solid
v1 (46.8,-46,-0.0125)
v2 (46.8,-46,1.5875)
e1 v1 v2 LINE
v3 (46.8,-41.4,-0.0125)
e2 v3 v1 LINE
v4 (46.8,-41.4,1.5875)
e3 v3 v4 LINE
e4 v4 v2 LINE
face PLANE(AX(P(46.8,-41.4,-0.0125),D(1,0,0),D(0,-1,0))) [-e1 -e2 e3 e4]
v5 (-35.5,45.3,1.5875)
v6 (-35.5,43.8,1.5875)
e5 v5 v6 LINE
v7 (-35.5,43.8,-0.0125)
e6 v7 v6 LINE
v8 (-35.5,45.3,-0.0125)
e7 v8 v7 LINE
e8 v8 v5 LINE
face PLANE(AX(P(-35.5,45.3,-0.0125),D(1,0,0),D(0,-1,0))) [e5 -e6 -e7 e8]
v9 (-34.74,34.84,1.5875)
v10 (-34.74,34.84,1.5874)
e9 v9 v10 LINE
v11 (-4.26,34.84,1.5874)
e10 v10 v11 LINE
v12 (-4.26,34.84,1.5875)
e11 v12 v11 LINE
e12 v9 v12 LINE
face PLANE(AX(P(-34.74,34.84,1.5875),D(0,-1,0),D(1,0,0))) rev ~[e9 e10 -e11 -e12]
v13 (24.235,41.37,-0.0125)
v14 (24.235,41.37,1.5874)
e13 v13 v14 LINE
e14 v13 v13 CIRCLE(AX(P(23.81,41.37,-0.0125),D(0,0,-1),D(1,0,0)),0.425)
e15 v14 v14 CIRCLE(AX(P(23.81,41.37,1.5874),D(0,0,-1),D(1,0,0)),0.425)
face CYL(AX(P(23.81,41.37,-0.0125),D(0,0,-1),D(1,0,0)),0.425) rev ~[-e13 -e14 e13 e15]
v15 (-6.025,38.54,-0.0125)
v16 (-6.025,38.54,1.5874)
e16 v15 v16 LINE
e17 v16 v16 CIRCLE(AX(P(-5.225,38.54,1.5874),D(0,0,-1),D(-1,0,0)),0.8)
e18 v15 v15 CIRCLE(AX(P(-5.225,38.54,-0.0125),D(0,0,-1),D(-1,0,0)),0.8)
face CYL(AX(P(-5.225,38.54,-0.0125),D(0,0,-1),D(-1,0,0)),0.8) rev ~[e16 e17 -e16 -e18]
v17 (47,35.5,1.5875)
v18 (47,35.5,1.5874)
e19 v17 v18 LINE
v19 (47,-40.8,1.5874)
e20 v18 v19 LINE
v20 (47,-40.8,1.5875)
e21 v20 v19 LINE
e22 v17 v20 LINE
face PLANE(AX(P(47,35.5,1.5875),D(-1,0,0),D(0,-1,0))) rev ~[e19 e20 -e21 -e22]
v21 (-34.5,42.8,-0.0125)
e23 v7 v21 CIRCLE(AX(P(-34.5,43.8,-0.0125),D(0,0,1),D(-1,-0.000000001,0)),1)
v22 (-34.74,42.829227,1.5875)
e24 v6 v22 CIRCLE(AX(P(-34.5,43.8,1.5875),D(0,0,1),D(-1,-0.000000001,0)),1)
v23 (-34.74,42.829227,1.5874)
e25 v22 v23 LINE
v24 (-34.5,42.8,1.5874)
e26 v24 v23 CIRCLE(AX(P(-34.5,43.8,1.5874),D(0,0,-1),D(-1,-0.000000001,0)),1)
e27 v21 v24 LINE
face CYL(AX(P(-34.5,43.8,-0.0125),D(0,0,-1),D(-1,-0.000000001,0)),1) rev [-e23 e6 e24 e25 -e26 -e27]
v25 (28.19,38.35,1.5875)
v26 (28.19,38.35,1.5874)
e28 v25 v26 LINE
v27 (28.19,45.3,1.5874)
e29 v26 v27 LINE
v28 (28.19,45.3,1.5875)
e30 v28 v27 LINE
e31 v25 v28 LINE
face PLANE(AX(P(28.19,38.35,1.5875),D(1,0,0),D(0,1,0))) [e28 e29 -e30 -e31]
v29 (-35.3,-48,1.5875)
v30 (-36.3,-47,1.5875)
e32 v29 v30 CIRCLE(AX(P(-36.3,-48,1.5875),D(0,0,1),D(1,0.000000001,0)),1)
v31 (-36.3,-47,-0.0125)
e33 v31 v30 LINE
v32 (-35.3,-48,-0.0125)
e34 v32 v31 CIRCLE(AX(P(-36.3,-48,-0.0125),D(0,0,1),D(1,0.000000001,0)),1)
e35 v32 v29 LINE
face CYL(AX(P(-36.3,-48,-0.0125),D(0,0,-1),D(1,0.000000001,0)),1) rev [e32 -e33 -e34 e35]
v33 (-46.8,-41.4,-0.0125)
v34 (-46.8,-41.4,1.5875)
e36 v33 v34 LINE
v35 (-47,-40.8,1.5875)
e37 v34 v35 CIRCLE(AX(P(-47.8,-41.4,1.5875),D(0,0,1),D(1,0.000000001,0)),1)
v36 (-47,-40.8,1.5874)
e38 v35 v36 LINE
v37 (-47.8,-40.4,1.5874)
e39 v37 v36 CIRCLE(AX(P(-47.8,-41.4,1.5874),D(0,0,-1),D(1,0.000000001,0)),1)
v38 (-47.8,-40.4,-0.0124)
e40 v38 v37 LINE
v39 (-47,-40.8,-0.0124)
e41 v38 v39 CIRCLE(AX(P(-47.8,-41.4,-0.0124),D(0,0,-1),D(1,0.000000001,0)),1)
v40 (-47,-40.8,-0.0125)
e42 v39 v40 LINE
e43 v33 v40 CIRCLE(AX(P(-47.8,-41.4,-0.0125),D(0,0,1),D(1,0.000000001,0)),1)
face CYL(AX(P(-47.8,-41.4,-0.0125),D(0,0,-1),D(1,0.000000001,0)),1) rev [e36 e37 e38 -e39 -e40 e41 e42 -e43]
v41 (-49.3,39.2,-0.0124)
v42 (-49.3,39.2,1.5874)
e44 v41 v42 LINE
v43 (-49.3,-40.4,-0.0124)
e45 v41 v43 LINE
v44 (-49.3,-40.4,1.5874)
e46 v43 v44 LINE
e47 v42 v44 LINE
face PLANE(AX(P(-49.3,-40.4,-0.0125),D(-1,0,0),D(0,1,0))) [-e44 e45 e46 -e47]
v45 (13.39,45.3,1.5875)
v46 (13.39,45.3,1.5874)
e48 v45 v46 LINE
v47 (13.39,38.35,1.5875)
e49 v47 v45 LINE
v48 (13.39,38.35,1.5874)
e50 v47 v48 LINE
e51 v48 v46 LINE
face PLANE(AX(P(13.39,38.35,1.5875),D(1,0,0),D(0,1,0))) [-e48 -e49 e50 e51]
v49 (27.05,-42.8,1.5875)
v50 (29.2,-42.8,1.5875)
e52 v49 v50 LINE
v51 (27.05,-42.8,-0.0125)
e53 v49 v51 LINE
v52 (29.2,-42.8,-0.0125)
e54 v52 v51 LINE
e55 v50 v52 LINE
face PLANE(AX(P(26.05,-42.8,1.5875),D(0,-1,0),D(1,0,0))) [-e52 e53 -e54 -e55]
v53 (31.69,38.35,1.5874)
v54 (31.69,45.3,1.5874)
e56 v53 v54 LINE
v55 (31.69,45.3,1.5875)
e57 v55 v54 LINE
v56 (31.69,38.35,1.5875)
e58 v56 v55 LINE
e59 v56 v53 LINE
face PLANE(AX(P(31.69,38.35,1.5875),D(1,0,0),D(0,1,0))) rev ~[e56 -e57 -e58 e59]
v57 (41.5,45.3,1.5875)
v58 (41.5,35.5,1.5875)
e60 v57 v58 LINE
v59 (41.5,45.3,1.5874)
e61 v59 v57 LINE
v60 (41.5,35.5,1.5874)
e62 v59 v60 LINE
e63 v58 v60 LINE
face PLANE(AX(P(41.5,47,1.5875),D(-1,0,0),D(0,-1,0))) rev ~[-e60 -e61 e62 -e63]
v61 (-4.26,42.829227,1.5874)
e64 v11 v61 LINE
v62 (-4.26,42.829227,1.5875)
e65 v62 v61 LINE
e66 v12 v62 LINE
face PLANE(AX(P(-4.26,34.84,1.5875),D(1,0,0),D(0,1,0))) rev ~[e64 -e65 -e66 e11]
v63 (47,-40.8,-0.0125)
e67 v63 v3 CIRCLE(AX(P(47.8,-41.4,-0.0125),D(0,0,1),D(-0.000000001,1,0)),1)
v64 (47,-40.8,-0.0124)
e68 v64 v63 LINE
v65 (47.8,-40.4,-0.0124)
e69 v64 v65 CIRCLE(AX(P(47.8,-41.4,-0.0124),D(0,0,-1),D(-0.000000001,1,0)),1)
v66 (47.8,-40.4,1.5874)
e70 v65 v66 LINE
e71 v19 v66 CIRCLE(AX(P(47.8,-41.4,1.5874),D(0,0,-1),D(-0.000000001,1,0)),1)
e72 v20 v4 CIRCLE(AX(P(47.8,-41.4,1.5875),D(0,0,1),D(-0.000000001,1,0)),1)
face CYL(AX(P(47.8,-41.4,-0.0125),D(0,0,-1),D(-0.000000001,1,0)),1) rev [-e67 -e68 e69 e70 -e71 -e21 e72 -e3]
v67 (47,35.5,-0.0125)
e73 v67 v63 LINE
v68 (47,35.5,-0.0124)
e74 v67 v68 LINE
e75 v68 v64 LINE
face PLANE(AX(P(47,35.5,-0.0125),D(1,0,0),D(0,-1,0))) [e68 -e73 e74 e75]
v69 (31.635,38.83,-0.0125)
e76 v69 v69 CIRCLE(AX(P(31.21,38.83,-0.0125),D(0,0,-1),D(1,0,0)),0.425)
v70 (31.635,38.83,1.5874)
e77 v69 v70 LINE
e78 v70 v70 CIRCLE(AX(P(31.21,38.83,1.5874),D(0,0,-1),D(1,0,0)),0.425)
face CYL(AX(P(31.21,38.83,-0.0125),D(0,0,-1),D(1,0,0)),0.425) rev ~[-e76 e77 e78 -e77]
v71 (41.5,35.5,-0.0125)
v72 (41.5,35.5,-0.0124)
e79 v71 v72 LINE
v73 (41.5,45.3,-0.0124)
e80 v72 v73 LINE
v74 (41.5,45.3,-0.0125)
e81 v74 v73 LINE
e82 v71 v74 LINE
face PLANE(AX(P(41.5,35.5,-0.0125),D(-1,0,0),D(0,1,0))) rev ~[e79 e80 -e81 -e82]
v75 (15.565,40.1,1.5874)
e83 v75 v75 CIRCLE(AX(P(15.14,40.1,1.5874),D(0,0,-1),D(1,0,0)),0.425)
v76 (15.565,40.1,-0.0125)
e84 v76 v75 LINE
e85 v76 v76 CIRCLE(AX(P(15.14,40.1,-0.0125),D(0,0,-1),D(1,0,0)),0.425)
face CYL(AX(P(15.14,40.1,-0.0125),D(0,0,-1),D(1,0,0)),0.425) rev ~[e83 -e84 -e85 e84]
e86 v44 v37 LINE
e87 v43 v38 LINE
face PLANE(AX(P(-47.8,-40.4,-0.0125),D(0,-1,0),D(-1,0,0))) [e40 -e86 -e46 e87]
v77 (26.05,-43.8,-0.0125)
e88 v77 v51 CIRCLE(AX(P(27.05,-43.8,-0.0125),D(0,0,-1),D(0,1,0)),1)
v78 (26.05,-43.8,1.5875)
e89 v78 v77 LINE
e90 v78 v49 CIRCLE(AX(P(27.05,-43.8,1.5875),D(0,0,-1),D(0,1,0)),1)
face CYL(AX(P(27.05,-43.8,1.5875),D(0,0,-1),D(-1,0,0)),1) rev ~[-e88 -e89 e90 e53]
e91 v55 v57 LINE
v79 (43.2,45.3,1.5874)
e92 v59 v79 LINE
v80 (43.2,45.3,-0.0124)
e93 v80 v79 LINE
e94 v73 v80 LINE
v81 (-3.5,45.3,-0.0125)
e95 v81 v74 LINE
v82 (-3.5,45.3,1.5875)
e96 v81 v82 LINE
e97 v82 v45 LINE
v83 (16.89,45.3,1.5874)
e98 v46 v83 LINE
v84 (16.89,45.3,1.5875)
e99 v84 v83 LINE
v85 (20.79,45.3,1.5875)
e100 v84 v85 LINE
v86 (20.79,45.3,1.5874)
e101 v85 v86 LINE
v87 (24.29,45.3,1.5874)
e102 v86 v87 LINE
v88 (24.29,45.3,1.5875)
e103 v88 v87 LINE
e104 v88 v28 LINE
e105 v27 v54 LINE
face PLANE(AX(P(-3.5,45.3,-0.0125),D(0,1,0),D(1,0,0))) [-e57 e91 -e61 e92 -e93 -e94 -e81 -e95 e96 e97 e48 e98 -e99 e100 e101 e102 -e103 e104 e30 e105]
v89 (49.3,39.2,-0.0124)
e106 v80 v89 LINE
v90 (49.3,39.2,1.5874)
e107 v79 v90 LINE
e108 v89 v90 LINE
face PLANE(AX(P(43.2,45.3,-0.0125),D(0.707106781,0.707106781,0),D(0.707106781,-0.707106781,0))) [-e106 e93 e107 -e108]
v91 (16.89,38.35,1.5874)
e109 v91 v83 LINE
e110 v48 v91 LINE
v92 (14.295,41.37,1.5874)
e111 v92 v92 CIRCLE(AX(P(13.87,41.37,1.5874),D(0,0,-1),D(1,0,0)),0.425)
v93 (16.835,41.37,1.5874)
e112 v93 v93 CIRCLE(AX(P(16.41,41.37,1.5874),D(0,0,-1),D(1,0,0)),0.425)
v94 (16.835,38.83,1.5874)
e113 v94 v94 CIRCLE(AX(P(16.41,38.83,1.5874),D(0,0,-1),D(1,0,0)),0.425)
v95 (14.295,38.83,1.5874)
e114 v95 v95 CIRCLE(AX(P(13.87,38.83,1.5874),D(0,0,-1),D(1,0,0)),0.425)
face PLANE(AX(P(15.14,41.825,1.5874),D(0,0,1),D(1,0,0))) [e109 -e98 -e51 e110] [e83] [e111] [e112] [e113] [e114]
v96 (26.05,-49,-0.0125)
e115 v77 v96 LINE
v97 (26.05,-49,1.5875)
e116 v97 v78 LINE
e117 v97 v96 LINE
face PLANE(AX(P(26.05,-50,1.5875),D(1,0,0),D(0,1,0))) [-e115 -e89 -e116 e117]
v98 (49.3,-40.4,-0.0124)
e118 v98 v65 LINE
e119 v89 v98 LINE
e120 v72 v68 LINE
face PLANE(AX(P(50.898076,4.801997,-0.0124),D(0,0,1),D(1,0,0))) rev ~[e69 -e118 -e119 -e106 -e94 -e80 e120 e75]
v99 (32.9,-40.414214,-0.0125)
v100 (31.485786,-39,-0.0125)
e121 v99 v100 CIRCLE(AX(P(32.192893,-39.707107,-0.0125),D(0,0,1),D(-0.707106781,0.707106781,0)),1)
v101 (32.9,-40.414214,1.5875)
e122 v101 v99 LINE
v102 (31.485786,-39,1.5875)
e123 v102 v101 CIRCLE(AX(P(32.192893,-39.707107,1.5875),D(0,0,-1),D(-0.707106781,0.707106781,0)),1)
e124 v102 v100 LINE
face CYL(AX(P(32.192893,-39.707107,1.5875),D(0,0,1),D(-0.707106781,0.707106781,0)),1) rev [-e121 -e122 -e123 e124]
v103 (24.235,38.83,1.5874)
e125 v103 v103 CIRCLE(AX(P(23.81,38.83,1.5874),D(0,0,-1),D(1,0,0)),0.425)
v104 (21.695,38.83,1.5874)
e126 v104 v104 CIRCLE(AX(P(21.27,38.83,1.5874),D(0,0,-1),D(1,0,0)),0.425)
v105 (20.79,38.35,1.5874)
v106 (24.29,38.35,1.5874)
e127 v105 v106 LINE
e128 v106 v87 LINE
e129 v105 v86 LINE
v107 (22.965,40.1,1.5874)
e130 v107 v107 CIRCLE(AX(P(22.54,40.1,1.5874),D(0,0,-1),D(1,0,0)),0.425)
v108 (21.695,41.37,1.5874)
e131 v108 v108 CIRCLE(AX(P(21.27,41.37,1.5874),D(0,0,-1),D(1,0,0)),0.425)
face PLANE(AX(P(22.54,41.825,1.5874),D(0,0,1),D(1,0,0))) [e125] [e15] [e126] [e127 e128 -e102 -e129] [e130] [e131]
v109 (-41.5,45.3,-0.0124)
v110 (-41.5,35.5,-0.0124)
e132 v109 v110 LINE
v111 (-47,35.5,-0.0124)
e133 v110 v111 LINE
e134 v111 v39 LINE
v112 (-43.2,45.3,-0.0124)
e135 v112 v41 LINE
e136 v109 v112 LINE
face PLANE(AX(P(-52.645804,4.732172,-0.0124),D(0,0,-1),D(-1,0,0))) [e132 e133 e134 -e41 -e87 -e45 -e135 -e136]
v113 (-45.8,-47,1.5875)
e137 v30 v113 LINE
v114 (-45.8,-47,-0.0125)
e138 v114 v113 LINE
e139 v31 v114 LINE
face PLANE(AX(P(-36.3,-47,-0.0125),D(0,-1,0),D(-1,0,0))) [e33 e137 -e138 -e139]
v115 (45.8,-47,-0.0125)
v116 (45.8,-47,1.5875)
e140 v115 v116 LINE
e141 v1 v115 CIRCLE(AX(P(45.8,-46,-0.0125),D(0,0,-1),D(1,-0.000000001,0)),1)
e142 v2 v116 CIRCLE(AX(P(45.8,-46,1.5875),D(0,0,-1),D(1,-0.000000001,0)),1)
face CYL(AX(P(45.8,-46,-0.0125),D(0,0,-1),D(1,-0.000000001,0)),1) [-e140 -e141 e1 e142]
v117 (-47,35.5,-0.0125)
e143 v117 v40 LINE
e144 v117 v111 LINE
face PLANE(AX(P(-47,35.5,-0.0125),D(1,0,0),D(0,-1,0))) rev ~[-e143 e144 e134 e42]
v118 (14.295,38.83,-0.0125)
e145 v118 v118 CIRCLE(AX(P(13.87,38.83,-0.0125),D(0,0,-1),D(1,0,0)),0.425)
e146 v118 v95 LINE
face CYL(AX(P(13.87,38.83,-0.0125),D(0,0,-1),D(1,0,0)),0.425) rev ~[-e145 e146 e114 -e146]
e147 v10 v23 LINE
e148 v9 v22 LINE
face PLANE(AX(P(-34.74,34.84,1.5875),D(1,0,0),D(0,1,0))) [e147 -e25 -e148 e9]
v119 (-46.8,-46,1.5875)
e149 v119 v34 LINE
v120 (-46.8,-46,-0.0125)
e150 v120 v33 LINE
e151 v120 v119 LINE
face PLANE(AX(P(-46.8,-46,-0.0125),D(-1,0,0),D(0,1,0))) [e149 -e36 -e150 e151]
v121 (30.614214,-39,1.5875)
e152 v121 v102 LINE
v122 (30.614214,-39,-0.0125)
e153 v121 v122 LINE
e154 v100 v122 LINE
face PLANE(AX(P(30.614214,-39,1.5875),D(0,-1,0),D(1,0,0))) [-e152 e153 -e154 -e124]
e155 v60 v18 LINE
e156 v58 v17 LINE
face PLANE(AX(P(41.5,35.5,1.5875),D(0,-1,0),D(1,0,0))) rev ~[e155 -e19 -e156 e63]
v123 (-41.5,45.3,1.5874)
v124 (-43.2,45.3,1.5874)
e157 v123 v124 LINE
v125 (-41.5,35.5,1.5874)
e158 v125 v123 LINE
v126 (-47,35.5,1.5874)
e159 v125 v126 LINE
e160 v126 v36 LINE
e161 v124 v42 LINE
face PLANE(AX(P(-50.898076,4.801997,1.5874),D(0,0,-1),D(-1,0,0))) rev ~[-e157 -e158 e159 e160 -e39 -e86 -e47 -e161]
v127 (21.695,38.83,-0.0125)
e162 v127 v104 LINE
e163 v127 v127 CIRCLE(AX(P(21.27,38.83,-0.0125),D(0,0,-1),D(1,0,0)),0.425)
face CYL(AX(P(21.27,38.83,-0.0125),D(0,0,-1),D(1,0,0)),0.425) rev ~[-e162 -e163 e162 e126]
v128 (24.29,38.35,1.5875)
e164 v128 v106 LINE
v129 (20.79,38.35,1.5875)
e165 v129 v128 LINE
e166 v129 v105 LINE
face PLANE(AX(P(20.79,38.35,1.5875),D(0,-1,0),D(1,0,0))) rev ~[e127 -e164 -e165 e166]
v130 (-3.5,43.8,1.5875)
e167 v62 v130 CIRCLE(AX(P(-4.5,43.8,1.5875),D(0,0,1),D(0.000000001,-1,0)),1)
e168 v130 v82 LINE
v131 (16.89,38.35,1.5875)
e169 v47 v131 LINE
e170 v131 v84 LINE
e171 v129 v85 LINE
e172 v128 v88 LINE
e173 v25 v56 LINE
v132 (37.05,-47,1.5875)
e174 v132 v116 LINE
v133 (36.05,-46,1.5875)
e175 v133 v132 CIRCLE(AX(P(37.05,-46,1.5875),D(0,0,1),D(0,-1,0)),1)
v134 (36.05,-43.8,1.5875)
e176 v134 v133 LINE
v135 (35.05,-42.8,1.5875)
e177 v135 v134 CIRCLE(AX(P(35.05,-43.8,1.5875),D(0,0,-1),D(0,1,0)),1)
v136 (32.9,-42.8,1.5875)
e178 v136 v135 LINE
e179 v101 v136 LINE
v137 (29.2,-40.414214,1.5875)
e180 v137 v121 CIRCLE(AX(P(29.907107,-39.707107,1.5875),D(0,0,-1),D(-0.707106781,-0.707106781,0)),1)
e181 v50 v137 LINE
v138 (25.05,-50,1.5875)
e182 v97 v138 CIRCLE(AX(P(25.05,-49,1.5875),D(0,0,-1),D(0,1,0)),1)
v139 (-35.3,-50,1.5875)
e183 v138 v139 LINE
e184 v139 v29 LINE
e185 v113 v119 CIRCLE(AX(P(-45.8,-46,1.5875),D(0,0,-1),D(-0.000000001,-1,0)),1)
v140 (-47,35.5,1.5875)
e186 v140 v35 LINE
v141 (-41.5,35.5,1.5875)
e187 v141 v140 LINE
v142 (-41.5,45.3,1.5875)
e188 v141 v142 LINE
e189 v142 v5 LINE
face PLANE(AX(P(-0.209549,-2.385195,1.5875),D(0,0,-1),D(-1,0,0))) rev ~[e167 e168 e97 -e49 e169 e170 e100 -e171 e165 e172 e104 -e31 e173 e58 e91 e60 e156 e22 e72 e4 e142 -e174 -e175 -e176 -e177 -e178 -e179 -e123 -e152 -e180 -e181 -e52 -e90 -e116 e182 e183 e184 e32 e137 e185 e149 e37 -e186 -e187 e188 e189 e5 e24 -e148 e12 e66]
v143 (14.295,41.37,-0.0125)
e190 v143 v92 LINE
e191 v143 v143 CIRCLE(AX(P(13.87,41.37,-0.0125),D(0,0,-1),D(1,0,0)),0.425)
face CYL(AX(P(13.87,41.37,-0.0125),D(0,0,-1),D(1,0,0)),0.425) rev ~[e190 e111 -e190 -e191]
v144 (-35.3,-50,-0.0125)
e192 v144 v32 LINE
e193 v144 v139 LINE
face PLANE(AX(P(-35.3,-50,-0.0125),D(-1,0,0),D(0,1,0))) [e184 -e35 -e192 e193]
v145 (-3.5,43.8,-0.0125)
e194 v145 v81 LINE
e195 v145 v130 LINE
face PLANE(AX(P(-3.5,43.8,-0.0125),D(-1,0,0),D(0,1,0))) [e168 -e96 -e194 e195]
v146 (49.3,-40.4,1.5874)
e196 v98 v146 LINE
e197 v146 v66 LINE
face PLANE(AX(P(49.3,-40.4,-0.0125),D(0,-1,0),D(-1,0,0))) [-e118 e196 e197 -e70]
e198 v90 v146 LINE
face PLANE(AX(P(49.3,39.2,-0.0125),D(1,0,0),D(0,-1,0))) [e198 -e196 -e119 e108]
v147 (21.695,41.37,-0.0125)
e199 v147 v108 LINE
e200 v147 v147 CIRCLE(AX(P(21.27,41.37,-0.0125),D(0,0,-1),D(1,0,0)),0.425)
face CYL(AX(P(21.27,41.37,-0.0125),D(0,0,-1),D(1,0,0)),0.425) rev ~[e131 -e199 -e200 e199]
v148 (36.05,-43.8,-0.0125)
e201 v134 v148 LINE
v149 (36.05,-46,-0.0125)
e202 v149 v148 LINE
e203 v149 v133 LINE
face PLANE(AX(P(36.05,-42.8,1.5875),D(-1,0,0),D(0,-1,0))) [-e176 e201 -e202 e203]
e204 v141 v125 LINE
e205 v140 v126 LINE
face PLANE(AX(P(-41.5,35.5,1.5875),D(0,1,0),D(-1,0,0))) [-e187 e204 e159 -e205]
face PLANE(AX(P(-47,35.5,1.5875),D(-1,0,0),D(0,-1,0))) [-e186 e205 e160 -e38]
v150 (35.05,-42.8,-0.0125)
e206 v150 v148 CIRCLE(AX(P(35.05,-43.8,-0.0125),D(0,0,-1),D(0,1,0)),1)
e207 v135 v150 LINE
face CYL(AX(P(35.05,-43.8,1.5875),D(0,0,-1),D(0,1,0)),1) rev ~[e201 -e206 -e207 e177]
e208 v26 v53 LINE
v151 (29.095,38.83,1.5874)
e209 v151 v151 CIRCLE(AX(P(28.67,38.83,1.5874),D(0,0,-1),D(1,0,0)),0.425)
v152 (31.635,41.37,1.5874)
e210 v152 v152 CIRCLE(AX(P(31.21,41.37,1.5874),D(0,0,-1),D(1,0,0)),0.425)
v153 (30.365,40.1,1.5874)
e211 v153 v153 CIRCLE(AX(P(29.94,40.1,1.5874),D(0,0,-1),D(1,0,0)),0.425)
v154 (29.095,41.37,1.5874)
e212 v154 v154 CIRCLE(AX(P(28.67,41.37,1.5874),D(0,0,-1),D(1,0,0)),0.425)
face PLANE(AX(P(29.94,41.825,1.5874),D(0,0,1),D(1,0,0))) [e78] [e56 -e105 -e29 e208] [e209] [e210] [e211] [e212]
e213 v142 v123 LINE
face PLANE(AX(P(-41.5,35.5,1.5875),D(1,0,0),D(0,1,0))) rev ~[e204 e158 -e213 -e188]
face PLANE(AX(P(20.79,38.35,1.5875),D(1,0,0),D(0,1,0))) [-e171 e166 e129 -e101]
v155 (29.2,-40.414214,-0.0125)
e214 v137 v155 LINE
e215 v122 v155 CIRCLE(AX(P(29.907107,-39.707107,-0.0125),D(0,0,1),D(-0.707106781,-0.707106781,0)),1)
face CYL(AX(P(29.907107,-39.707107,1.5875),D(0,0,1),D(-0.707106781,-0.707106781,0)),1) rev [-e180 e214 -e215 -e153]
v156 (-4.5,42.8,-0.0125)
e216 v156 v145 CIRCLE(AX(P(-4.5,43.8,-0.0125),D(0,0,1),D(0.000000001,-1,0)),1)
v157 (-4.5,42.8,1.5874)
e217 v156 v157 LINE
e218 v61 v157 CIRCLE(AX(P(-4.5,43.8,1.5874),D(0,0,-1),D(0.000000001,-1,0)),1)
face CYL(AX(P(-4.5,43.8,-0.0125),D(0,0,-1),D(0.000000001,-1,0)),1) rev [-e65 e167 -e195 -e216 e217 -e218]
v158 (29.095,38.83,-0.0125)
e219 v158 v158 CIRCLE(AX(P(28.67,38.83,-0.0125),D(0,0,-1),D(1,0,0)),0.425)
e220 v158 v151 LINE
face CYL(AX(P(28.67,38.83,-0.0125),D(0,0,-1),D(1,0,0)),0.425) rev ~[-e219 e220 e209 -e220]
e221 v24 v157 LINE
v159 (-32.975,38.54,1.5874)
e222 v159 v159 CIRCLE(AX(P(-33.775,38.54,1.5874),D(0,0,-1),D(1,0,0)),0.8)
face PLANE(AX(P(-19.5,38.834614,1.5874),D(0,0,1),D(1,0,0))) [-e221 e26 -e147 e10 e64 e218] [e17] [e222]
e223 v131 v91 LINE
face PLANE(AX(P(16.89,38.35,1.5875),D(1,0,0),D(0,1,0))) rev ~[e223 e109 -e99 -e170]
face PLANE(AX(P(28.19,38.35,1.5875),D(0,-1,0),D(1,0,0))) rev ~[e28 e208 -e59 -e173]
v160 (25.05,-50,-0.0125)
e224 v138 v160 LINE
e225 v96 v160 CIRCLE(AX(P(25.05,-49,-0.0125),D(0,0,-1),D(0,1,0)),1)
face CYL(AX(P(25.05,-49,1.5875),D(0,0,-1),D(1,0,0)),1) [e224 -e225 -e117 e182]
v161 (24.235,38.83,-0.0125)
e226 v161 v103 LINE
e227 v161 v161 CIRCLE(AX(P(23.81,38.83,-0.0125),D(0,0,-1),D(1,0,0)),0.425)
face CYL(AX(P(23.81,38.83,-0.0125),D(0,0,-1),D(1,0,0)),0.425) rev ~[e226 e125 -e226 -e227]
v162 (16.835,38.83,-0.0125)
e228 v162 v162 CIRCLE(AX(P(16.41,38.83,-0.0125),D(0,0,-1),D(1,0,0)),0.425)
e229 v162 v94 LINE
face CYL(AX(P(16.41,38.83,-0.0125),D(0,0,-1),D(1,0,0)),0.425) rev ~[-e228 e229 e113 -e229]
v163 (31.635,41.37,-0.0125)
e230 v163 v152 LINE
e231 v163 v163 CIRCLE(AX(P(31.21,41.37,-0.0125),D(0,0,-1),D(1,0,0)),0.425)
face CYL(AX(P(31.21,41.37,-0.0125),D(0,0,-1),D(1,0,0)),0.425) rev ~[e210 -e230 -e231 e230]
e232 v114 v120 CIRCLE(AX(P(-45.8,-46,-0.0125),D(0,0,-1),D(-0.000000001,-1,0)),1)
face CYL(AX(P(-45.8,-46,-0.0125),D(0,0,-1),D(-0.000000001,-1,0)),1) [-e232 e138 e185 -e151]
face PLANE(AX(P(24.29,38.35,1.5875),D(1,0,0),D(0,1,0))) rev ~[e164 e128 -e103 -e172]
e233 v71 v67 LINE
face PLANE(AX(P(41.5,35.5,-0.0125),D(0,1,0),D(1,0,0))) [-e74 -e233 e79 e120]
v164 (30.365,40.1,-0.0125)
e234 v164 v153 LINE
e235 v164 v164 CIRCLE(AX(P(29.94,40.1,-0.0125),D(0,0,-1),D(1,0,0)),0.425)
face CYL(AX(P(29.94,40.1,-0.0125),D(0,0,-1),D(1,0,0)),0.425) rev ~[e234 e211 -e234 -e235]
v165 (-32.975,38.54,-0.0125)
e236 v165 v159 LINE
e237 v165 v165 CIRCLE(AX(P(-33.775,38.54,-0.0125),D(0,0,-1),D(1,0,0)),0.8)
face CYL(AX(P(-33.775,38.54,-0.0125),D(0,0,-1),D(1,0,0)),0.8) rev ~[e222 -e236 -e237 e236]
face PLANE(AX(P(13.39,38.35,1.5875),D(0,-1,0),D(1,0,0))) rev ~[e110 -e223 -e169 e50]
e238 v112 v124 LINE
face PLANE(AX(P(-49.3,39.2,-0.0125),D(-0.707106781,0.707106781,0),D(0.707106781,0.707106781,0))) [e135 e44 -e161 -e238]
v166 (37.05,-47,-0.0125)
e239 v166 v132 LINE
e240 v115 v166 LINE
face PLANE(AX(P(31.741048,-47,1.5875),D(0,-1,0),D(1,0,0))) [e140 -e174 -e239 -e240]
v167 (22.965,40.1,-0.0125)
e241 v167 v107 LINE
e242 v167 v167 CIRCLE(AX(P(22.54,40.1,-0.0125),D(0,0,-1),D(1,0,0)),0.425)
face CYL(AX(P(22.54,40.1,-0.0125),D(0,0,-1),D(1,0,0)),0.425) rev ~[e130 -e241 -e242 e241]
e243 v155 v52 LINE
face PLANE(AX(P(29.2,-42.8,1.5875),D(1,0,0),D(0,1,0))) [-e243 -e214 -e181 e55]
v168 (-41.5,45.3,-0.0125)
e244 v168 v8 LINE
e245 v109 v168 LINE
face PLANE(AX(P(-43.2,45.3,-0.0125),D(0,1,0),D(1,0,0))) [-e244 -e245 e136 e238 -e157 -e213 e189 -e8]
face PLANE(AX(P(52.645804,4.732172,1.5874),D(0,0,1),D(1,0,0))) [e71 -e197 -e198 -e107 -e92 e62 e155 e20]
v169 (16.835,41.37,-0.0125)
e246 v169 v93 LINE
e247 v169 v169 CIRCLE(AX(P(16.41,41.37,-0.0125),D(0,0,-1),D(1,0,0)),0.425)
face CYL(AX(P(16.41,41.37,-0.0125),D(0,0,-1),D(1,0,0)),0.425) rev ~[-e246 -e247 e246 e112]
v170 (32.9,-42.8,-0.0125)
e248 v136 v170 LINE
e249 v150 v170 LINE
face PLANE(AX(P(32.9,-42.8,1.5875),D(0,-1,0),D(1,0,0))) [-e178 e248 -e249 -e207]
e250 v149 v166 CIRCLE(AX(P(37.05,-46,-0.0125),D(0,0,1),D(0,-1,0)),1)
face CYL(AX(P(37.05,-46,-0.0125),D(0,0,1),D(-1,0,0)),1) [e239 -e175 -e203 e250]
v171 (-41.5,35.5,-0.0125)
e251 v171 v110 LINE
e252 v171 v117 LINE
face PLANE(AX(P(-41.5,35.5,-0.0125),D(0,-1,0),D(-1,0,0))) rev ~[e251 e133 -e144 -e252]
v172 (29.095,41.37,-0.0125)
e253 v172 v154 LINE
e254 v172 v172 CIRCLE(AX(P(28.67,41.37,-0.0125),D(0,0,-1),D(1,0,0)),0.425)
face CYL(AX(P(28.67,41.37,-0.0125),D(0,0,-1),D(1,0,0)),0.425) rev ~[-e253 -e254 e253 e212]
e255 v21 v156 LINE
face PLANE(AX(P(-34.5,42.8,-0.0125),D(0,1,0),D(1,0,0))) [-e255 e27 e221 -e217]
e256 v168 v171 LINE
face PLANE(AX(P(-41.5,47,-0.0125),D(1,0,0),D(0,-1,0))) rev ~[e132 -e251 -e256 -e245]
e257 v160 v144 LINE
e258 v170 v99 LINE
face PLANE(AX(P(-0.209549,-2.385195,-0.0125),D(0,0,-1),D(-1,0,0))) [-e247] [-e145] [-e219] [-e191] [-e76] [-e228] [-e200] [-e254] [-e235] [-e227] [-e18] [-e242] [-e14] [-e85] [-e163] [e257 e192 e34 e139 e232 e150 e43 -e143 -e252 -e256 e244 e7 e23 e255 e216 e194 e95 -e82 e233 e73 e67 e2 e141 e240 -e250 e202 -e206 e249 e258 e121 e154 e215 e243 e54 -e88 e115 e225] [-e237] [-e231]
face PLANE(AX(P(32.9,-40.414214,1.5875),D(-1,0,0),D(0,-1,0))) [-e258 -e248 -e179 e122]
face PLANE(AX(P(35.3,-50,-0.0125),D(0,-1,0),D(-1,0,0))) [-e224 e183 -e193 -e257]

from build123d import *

# Parameters (mm, degrees)
SKETCH1_R           = 0.425
SKETCH1_R_2         = 0.8
BOSS_EXTRUDE1_DEPTH = 1.6
CUT_EXTRUDE1_DEPTH  = 0.0001
CUT_EXTRUDE2_DEPTH  = 0.0001
PARTFOOTPRINTS_W    = 30.48
PARTFOOTPRINTS_H    = 7.989227112
PARTFOOTPRINTS_W_2  = 3.5
PARTFOOTPRINTS_H_2  = 6.95
CUT_EXTRUDE3_DEPTH  = 0.0001
CUT_EXTRUDE4_DEPTH  = 71.235674696
SKETCH3_W           = 7.779754111
SKETCH3_H           = 5.155241991
CUT_EXTRUDE5_DEPTH  = 10
FILLET1_R           = 1


with BuildPart() as part:
    # Sketch1 → Boss-Extrude1 (new body)
    with BuildSketch(Plane(origin=(0, 0, -0.0125), x_dir=(-1, 0, 0), z_dir=(0, 0, -1))):
        with BuildLine():
            Line((35.3, -50), (35.3, -48))
            ThreePointArc((35.3, -48), (35.592893219, -47.292893219), (36.3, -47))
            Line((36.3, -47), (45.8, -47))
            ThreePointArc((45.8, -47), (46.507106781, -46.707106781), (46.8, -46))
            Line((46.8, -46), (46.8, -41.4))
            ThreePointArc((46.8, -41.4), (47.092893219, -40.692893219), (47.8, -40.4))
            Line((47.8, -40.4), (49.3, -40.4))
            Line((49.3, -40.4), (49.3, 39.2))
            Line((49.3, 39.2), (43.2, 45.3))
            Line((43.2, 45.3), (35.500000002, 45.3))
            Line((35.500000002, 45.3), (35.500000002, 43.8))
            ThreePointArc((35.500000002, 43.8), (35.207106783, 43.092893219), (34.500000002, 42.8))
            Line((34.500000002, 42.8), (4.499999998, 42.8))
            ThreePointArc((4.499999998, 42.8), (3.792893217, 43.092893219), (3.499999998, 43.8))
            Line((3.499999998, 43.8), (3.499999998, 45.3))
            Line((3.499999998, 45.3), (-43.2, 45.3))
            Line((-43.2, 45.3), (-49.3, 39.2))
            Line((-49.3, 39.2), (-49.3, -40.4))
            Line((-49.3, -40.4), (-47.8, -40.4))
            ThreePointArc((-47.8, -40.4), (-47.092893219, -40.692893219), (-46.8, -41.4))
            Line((-46.8, -41.4), (-46.8, -46))
            ThreePointArc((-46.8, -46), (-46.507106781, -46.707106781), (-45.8, -47))
            Line((-45.8, -47), (-36.3, -47))
            ThreePointArc((-36.3, -47), (-35.592893219, -47.292893219), (-35.3, -48))
            Line((-35.3, -48), (-35.3, -50))
            Line((-35.3, -50), (35.3, -50))
        make_face()
        with Locations(Location((-21.27, 41.37, 0), (0, 0, 180))):
            Circle(SKETCH1_R, mode=Mode.SUBTRACT)
        with Locations(Location((-23.81, 41.37, 0), (0, 0, 180))):
            Circle(SKETCH1_R, mode=Mode.SUBTRACT)
        with Locations(Location((-22.54, 40.1, 0), (0, 0, 180))):
            Circle(SKETCH1_R, mode=Mode.SUBTRACT)
        with Locations(Location((-13.87, 41.37, 0), (0, 0, 180))):
            Circle(SKETCH1_R, mode=Mode.SUBTRACT)
        with Locations(Location((-23.81, 38.83, 0), (0, 0, 180))):
            Circle(SKETCH1_R, mode=Mode.SUBTRACT)
        with Locations(Location((-16.41, 41.37, 0), (0, 0, 180))):
            Circle(SKETCH1_R, mode=Mode.SUBTRACT)
        with Locations(Location((-15.14, 40.1, 0), (0, 0, 180))):
            Circle(SKETCH1_R, mode=Mode.SUBTRACT)
        with Locations(Location((-21.27, 38.83, 0), (0, 0, 180))):
            Circle(SKETCH1_R, mode=Mode.SUBTRACT)
        with Locations(Location((-28.67, 41.37, 0), (0, 0, 180))):
            Circle(SKETCH1_R, mode=Mode.SUBTRACT)
        with Locations(Location((-31.21, 41.37, 0), (0, 0, 180))):
            Circle(SKETCH1_R, mode=Mode.SUBTRACT)
        with Locations(Location((-16.41, 38.83, 0), (0, 0, 180))):
            Circle(SKETCH1_R, mode=Mode.SUBTRACT)
        with Locations(Location((-29.94, 40.1, 0), (0, 0, 180))):
            Circle(SKETCH1_R, mode=Mode.SUBTRACT)
        with Locations(Location((-31.21, 38.83, 0), (0, 0, 180))):
            Circle(SKETCH1_R, mode=Mode.SUBTRACT)
        with Locations(Location((-28.67, 38.83, 0), (0, 0, 180))):
            Circle(SKETCH1_R, mode=Mode.SUBTRACT)
        with Locations(Location((33.775, 38.54, 0), (0, 0, 180))):
            Circle(SKETCH1_R_2, mode=Mode.SUBTRACT)
        with Locations((5.225, 38.54)):
            Circle(SKETCH1_R_2, mode=Mode.SUBTRACT)
        with Locations(Location((-13.87, 38.83, 0), (0, 0, 180))):
            Circle(SKETCH1_R, mode=Mode.SUBTRACT)
    extrude(amount=-BOSS_EXTRUDE1_DEPTH)

    # thermalContacts_lower → Cut-Extrude1 (cut)
    with BuildSketch(Plane(origin=(0, 0, -0.0125), x_dir=(-1, 0, 0), z_dir=(0, 0, -1))):
        Polygon((47, 35.5), (47, -41.5), (59.827263463, -41.5), (59.827263463, 47), (41.5, 47), (41.5, 41.5), (41.5, 35.5), align=None)
        Polygon((-47, 35.5), (-47, -41.5), (-56.192158269, -41.5), (-56.192158269, 47), (-41.5, 47), (-41.5, 41.5), (-41.5, 35.5), align=None)
    extrude(amount=-CUT_EXTRUDE1_DEPTH, mode=Mode.SUBTRACT)

    # thermalContacts_upper → Cut-Extrude2 (cut)
    with BuildSketch(Plane.XY.offset(1.5875)):
        Polygon((-47, 35.5), (-47, -41.5), (-56.192158269, -41.5), (-56.192158269, 47), (-41.5, 47), (-41.5, 41.5), (-41.5, 35.5), align=None)
        Polygon((47, 35.5), (47, -41.5), (59.827263463, -41.5), (59.827263463, 47), (41.5, 47), (41.5, 41.5), (41.5, 35.5), align=None)
    extrude(amount=-CUT_EXTRUDE2_DEPTH, mode=Mode.SUBTRACT)

    # partFootprints → Cut-Extrude3 (cut)
    with BuildSketch(Plane.XY.offset(1.5875)):
        with Locations((-19.5, 38.834613556)):
            Rectangle(PARTFOOTPRINTS_W, PARTFOOTPRINTS_H)
        with Locations((15.14, 41.825)):
            Rectangle(PARTFOOTPRINTS_W_2, PARTFOOTPRINTS_H_2)
        with Locations((22.54, 41.825)):
            Rectangle(PARTFOOTPRINTS_W_2, PARTFOOTPRINTS_H_2)
        with Locations((29.94, 41.825)):
            Rectangle(PARTFOOTPRINTS_W_2, PARTFOOTPRINTS_H_2)
    extrude(amount=-CUT_EXTRUDE3_DEPTH, mode=Mode.SUBTRACT)

    # Sketch2 → Cut-Extrude4 (cut, through all)
    with BuildSketch(Plane.XY.offset(1.5875)):
        with BuildLine():
            Line((29.2, -42.8), (29.2, -40.414213562))
            ThreePointArc((29.2, -40.414213562), (29.2, -39), (30.614213562, -39))
            Line((30.614213562, -39), (31.485786438, -39))
            ThreePointArc((31.485786438, -39), (32.9, -39), (32.9, -40.414213562))
            Line((32.9, -40.414213562), (32.9, -42.8))
            Line((32.9, -42.8), (36.05, -42.8))
            Line((36.05, -42.8), (36.05, -50))
            Line((36.05, -50), (26.05, -50))
            Line((26.05, -50), (26.05, -42.8))
            Line((26.05, -42.8), (29.2, -42.8))
        make_face()
    extrude(amount=-CUT_EXTRUDE4_DEPTH, mode=Mode.SUBTRACT)

    # Sketch3 → Cut-Extrude5 (cut)
    with BuildSketch(Plane.XY.offset(1.5875)):
        with Locations((35.630924609, -49.577620995)):
            Rectangle(SKETCH3_W, SKETCH3_H)
    extrude(amount=-CUT_EXTRUDE5_DEPTH, mode=Mode.SUBTRACT)

    # Fillet1
    fillet1_edges = [part.edges().sort_by_distance(p)[0] for p in [
        (26.05, -50, 0.7875),
        (26.05, -42.8, 0.7875),
        (36.05, -42.8, 0.7875),
        (36.05, -47, 0.7875),
    ]]
    fillet(fillet1_edges, radius=FILLET1_R)


solid = part.part
